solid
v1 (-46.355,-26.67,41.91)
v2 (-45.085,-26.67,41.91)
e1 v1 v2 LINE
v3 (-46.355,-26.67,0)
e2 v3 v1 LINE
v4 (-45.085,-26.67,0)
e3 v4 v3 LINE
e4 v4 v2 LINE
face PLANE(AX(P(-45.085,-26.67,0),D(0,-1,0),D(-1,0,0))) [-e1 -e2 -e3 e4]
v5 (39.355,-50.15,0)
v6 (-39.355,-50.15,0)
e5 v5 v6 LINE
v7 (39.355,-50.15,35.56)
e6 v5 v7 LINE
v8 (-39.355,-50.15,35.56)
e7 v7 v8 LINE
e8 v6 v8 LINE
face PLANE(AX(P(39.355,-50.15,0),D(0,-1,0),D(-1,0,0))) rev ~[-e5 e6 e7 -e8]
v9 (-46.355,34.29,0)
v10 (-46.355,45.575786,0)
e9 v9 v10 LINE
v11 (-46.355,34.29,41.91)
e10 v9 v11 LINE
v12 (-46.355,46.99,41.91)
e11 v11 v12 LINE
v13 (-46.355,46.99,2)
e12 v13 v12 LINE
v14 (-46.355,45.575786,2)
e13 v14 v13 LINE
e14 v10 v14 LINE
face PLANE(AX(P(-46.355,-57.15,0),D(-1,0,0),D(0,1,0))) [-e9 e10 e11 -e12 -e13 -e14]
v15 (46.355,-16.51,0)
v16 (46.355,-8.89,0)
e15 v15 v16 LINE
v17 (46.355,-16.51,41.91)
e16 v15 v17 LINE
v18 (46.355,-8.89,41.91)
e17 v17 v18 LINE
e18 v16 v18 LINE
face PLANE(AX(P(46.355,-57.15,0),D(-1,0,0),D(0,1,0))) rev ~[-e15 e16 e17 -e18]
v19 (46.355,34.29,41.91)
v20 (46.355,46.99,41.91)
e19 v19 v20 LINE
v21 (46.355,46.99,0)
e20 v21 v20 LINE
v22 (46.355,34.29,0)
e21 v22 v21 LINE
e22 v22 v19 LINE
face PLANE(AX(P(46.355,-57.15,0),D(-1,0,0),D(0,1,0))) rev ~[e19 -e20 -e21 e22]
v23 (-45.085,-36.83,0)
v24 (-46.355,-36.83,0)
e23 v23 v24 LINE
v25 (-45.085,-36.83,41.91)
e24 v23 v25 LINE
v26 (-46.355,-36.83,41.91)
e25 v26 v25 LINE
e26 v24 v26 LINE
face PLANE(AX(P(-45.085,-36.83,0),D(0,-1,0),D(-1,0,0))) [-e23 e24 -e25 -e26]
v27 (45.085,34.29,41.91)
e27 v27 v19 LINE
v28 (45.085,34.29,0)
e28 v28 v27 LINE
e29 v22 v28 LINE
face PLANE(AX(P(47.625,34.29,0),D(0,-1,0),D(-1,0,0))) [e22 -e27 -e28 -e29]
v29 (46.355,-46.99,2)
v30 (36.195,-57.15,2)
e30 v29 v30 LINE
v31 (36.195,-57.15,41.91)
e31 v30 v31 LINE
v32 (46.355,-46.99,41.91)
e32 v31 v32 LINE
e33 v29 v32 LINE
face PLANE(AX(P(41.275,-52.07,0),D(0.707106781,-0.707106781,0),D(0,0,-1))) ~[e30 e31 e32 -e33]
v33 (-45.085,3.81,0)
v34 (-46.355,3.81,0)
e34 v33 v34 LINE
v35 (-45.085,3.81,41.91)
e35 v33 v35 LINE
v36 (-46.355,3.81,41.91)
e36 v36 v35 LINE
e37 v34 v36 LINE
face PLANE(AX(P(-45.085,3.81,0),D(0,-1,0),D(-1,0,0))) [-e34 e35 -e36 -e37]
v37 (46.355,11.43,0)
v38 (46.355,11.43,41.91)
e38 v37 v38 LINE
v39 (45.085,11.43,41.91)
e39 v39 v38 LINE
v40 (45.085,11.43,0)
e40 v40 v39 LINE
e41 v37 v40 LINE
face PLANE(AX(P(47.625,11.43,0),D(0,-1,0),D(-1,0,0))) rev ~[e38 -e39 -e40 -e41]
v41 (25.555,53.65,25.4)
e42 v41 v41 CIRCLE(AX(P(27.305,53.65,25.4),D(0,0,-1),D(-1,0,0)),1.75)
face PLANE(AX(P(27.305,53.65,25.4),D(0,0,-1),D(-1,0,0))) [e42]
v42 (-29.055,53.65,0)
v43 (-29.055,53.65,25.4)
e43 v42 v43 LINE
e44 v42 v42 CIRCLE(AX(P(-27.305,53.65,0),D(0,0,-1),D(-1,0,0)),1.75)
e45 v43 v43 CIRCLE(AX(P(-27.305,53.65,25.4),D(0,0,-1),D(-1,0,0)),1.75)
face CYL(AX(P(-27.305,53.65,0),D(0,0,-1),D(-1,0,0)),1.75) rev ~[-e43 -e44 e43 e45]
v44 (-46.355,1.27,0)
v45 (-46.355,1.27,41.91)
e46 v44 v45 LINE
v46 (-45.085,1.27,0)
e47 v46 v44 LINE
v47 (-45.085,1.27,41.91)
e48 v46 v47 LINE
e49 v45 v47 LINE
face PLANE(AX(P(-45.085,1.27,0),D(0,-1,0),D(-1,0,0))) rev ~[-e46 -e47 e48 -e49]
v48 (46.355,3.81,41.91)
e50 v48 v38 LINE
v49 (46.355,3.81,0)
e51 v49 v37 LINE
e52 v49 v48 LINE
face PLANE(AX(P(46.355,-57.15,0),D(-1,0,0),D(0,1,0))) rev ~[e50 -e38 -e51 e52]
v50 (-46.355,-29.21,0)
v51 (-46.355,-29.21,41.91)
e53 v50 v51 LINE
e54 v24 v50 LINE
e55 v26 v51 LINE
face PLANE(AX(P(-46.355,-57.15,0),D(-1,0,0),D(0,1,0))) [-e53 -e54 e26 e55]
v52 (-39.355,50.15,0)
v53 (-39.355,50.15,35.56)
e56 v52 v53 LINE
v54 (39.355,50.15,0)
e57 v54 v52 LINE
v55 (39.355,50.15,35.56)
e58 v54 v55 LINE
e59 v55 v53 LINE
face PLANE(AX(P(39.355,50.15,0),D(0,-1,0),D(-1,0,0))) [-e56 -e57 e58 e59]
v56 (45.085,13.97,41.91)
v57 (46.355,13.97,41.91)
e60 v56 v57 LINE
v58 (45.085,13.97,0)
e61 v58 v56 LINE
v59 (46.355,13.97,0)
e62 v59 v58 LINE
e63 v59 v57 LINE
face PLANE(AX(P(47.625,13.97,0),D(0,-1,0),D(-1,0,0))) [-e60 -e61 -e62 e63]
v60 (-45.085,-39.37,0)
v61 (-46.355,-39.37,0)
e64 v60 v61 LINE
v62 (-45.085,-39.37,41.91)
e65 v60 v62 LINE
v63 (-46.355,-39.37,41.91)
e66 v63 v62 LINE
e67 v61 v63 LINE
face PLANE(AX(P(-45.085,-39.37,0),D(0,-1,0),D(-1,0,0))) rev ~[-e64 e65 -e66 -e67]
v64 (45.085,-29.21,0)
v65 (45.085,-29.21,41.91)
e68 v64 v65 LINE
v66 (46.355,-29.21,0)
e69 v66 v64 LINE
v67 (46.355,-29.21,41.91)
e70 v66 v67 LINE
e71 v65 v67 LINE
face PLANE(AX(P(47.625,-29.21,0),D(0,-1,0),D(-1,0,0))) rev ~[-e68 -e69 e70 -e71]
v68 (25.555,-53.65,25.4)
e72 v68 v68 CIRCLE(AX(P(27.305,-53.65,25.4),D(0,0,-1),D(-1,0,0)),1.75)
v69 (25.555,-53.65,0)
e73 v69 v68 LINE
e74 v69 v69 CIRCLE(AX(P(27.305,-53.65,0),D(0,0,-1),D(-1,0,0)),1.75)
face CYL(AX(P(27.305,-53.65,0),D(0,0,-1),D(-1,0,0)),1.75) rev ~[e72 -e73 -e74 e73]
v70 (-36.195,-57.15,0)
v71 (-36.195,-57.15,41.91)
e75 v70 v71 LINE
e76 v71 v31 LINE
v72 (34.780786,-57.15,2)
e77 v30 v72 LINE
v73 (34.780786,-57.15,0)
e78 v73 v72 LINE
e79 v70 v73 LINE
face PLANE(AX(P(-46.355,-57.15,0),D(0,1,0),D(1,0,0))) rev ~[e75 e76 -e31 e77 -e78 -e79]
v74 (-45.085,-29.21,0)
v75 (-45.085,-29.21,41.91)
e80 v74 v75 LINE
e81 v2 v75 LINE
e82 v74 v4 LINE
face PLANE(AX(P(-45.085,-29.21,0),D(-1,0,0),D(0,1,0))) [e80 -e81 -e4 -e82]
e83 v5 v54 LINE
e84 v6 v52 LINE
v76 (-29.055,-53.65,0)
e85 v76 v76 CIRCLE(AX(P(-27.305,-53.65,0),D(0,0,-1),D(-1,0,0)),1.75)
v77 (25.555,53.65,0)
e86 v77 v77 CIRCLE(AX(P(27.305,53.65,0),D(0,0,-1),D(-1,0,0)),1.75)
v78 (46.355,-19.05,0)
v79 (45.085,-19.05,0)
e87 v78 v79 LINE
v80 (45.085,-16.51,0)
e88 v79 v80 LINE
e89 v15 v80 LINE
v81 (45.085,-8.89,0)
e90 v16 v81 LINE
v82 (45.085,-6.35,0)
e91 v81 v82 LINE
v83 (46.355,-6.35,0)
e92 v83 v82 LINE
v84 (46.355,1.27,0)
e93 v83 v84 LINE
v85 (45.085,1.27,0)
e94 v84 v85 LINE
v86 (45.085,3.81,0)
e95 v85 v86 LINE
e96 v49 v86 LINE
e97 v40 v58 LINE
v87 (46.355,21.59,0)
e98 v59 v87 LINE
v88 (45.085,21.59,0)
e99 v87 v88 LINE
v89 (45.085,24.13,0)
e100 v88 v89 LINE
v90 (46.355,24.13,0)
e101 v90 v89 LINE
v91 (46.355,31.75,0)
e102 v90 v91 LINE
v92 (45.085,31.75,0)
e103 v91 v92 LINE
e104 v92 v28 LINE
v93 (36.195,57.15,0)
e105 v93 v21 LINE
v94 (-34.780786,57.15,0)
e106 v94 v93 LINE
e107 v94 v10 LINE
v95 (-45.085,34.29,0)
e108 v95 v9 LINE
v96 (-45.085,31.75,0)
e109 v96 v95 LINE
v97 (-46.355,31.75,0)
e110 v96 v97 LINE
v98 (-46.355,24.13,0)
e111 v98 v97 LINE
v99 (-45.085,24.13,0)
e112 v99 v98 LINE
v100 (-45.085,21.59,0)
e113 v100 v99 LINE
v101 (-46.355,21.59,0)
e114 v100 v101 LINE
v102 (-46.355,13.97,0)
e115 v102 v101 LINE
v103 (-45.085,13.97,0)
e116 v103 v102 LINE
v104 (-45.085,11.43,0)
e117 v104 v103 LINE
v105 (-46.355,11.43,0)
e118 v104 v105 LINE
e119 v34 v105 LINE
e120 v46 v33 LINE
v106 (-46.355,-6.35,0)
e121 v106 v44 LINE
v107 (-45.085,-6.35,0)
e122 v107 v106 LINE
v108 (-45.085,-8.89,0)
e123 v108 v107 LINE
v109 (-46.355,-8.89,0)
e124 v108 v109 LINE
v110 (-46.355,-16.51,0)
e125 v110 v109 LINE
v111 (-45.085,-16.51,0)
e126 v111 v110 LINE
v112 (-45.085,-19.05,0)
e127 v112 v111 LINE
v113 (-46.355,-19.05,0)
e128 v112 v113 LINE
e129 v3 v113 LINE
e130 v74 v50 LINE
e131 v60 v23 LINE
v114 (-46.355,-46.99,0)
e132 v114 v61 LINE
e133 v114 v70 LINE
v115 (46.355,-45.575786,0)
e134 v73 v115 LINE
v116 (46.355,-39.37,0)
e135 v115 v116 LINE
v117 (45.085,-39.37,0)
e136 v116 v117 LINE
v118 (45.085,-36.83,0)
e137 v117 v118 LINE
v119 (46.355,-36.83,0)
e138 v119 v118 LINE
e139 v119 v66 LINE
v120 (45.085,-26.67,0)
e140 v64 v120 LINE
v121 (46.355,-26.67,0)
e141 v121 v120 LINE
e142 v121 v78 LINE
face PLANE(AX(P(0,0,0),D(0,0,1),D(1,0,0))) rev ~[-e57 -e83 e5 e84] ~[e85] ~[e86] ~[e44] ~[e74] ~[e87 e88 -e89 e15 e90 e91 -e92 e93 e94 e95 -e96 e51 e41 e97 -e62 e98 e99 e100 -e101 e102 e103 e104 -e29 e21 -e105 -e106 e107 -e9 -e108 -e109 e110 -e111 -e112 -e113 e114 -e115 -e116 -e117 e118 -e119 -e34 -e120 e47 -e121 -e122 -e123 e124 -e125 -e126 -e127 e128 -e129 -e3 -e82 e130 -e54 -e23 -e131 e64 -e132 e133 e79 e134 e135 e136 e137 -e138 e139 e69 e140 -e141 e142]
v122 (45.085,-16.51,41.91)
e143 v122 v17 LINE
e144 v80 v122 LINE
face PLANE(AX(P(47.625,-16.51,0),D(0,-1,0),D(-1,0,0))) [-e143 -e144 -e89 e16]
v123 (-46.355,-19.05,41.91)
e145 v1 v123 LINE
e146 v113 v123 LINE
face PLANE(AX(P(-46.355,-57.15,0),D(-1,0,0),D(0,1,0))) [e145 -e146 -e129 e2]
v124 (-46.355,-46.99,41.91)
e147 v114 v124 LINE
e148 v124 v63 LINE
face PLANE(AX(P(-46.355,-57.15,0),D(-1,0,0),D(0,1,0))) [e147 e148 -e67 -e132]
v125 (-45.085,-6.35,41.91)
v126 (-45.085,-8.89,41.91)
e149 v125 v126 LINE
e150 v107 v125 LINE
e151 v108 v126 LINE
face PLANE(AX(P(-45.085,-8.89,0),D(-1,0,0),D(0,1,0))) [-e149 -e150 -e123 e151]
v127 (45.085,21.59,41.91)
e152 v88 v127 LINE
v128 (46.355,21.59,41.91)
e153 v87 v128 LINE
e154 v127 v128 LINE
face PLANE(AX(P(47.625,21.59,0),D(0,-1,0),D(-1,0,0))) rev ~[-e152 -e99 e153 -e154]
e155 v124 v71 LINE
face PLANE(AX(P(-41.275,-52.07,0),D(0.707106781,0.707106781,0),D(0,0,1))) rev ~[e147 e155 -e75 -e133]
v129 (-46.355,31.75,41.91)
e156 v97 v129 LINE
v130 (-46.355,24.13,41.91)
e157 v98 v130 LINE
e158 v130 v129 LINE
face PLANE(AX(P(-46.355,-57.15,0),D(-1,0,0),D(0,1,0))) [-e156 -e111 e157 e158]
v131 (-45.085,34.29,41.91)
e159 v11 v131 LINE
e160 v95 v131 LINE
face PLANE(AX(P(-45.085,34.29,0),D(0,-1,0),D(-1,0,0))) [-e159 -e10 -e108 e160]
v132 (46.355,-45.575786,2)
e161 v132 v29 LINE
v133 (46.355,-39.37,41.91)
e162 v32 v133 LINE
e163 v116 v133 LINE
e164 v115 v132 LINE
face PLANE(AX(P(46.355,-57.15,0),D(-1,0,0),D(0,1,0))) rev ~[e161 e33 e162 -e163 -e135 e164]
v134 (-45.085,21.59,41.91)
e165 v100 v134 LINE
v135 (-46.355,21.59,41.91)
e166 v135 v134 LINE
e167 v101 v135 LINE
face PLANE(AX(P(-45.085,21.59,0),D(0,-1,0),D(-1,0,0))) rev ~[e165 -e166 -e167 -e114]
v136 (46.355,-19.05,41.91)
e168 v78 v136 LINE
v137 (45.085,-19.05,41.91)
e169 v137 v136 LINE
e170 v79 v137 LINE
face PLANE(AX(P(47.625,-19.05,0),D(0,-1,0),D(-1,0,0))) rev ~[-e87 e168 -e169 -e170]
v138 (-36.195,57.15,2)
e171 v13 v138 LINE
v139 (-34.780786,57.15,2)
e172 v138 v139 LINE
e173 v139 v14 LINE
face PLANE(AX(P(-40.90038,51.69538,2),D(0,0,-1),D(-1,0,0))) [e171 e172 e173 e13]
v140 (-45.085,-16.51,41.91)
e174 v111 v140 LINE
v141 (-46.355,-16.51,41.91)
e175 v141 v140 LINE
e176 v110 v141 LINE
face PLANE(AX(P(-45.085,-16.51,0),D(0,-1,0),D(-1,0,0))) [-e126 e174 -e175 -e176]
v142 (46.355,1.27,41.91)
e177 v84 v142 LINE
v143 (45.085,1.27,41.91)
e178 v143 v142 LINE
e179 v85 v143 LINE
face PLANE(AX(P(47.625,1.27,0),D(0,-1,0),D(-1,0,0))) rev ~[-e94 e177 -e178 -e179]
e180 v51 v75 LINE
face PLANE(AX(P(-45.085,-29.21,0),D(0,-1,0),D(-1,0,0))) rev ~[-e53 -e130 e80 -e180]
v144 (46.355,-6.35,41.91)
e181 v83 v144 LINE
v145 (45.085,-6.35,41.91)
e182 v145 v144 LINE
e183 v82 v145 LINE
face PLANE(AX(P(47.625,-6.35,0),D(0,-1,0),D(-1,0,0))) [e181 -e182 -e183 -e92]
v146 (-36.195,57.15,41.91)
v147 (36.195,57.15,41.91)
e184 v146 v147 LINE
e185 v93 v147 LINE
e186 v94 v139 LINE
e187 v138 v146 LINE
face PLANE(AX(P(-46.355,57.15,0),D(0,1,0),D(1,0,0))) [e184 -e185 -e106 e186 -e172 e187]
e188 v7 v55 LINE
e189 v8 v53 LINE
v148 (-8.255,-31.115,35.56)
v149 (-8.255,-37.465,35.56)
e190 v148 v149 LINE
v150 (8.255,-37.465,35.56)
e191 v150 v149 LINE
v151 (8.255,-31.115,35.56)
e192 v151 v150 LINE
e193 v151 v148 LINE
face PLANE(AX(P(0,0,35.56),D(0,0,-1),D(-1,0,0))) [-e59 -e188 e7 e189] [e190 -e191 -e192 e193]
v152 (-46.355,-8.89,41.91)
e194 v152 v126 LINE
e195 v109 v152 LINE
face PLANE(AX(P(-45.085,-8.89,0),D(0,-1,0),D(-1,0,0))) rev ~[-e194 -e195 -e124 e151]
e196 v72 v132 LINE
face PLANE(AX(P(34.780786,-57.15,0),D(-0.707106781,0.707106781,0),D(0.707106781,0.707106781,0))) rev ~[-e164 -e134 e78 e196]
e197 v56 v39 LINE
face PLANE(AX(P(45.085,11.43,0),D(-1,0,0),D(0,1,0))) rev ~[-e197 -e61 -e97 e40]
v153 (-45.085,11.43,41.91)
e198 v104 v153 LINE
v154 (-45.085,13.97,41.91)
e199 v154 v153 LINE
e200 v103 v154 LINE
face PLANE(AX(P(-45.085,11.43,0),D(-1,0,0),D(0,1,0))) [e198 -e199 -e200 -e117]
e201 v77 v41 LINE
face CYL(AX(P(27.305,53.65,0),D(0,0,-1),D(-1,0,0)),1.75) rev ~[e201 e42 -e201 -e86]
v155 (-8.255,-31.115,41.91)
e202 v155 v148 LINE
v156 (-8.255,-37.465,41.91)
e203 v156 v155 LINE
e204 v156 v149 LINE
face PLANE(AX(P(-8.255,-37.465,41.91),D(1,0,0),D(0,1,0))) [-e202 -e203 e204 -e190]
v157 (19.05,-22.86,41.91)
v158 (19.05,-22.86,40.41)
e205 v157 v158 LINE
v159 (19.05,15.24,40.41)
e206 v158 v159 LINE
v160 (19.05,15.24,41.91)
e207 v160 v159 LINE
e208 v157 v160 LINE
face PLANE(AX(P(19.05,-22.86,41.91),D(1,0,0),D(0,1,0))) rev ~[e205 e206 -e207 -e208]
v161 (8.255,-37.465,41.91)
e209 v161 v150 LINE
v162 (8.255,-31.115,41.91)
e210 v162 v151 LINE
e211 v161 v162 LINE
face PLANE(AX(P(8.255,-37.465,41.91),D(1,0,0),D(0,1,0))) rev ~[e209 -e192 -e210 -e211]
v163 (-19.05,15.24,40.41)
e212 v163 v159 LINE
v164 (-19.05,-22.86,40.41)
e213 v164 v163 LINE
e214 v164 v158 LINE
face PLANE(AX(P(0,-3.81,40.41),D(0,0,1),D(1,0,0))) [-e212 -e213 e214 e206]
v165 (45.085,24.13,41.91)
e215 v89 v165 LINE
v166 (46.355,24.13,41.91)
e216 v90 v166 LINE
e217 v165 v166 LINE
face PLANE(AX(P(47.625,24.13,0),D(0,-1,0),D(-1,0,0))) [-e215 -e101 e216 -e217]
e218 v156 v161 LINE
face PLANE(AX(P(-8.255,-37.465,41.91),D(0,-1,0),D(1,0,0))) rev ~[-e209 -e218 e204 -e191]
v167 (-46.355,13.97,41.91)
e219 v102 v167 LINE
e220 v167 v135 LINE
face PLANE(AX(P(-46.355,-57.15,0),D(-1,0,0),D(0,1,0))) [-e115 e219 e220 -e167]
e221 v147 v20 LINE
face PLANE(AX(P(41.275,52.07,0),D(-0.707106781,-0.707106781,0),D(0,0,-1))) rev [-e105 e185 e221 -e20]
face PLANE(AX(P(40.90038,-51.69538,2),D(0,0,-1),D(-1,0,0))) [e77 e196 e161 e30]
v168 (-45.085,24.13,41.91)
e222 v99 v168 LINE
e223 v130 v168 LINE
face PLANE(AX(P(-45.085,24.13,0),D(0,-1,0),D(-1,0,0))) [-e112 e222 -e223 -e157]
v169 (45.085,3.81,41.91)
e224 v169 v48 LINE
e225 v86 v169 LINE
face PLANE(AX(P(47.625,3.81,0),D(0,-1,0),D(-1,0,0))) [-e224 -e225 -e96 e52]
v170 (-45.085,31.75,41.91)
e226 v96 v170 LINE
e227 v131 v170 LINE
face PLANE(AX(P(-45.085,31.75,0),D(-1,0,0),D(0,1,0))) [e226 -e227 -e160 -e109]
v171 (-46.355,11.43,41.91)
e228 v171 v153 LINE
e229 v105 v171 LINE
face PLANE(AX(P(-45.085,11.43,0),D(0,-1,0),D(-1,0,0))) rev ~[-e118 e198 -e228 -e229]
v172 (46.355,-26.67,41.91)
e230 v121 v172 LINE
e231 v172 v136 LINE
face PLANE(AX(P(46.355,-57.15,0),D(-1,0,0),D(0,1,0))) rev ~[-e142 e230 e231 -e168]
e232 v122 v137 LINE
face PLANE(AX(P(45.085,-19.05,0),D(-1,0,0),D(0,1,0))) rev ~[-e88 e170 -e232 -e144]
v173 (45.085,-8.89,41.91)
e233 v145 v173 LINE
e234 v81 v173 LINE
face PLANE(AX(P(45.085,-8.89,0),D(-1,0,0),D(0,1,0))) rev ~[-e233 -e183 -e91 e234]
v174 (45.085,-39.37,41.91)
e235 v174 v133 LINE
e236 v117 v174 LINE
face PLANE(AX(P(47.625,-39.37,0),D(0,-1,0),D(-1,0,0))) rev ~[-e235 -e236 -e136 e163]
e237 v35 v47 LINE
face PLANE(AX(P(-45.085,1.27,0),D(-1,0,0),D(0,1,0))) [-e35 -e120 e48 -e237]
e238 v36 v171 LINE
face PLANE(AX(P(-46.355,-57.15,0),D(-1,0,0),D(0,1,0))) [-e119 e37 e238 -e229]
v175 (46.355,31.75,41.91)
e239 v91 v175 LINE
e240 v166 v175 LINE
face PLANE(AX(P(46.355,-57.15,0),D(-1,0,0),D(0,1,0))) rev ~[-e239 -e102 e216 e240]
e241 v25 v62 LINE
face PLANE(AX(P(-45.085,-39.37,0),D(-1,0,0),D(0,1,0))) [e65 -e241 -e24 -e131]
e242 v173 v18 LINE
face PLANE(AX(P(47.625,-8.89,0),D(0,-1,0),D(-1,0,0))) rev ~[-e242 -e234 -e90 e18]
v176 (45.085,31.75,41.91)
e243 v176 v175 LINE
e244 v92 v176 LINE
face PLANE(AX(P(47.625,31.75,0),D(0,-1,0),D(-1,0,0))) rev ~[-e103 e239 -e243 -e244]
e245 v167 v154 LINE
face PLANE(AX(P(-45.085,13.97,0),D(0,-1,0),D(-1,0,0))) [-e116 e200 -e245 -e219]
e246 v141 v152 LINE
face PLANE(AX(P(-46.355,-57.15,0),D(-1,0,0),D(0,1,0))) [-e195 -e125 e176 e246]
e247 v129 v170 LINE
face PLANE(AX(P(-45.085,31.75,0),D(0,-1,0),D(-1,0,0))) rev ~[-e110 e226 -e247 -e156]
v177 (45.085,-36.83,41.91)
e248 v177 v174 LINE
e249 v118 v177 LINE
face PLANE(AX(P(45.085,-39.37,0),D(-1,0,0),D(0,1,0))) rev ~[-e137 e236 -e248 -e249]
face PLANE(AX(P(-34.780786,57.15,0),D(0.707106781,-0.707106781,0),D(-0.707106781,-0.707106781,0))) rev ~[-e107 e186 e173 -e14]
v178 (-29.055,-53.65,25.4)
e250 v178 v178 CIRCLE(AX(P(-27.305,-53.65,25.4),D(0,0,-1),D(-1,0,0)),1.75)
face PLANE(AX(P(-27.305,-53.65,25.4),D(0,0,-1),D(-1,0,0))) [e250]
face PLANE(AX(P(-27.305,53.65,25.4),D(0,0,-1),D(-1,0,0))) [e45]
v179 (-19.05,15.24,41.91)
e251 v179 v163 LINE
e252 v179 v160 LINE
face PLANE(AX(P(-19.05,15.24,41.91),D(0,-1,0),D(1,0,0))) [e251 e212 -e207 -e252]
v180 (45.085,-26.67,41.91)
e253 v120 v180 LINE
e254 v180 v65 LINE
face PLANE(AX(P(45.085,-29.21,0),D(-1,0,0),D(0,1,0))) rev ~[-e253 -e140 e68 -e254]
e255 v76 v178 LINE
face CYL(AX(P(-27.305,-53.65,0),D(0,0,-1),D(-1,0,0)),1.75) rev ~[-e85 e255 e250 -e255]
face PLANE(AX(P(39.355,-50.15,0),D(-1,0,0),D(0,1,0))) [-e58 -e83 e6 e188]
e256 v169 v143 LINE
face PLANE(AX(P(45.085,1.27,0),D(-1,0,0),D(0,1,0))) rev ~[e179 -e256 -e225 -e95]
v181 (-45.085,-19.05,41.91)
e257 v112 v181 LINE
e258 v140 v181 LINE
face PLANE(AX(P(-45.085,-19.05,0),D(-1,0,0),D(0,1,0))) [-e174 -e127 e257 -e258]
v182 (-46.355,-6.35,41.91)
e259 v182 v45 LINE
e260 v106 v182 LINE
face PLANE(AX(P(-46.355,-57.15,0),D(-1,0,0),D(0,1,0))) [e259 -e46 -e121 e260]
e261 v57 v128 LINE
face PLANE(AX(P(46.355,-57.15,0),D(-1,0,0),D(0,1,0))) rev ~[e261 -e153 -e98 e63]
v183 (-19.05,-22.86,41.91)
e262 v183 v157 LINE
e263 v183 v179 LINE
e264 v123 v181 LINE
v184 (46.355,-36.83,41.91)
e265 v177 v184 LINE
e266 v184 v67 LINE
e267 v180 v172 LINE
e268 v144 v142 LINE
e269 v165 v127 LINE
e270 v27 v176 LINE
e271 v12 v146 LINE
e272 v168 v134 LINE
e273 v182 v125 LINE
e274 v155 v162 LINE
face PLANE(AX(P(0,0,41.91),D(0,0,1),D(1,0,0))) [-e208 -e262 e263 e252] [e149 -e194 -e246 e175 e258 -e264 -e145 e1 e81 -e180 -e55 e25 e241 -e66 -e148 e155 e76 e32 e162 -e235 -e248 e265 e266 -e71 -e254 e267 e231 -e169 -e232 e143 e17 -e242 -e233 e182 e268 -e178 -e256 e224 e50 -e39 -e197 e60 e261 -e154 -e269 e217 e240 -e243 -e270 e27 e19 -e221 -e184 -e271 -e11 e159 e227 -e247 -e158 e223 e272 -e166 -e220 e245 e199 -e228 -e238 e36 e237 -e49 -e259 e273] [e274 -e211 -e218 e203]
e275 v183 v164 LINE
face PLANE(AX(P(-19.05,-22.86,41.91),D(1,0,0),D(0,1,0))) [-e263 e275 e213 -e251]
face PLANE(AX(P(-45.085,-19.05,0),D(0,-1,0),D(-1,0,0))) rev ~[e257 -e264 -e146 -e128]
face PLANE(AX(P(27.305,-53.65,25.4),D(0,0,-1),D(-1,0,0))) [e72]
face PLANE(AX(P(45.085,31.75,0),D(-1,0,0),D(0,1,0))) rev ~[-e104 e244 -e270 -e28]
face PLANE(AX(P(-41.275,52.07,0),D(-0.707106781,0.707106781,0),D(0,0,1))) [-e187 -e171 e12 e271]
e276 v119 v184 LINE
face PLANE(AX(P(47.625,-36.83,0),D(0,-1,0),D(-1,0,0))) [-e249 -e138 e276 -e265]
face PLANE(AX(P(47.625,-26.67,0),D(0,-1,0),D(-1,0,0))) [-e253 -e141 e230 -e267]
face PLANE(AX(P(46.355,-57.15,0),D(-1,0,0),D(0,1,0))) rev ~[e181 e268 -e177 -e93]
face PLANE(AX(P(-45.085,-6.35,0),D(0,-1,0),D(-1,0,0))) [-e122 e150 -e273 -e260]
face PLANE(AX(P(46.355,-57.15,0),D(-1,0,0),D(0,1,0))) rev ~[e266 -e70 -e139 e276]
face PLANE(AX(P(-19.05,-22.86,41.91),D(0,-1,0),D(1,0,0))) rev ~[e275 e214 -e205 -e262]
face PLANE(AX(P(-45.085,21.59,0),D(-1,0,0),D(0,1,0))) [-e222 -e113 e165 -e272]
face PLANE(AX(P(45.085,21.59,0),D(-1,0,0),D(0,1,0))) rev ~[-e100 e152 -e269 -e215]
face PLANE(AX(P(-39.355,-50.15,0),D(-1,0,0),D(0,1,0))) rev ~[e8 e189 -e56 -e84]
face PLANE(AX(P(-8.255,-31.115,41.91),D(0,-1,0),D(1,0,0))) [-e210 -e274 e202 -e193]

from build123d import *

# Parameters (mm, degrees)
SKETCH1_W           = 92.71
SKETCH1_H           = 114.3
BOSS_EXTRUDE1_DEPTH = 41.91
SKETCH2_W           = 2.54
SKETCH2_H           = 2.54
CUT_EXTRUDE1_DEPTH  = 85.683862837
CHAMFER1_SIZE       = 10.16
SKETCH3_R           = 1.750000056
CUT_EXTRUDE2_DEPTH  = 25.4
SKETCH4_W           = 78.71
SKETCH4_H           = 100.30000006
CUT_EXTRUDE3_DEPTH  = 35.56
SKETCH6_W           = 16.51
SKETCH6_H           = 6.35
CUT_EXTRUDE5_DEPTH  = 85.683862837
CUT_EXTRUDE6_DEPTH  = 2
SKETCH8_W           = 38.1
SKETCH8_H           = 38.1
CUT_EXTRUDE7_DEPTH  = 1.5


with BuildPart() as part:
    # Sketch1 → Boss-Extrude1 (new body)
    with BuildSketch(Plane.XY):
        Rectangle(SKETCH1_W, SKETCH1_H)
    extrude(amount=BOSS_EXTRUDE1_DEPTH)

    # Sketch2 → Cut-Extrude1 (cut, through all)
    with BuildSketch(Plane(origin=(0, 0, 0), x_dir=(-1, 0, 0), z_dir=(0, 0, -1))):
        with Locations((-46.355, -38.1)):
            Rectangle(SKETCH2_W, SKETCH2_H)
        with Locations((46.355, -38.1)):
            Rectangle(SKETCH2_W, SKETCH2_H)
        with Locations((-46.355, -27.94)):
            Rectangle(SKETCH2_W, SKETCH2_H)
        with Locations((46.355, -27.94)):
            Rectangle(SKETCH2_W, SKETCH2_H)
        with Locations((-46.355, -17.78)):
            Rectangle(SKETCH2_W, SKETCH2_H)
        with Locations((46.355, -17.78)):
            Rectangle(SKETCH2_W, SKETCH2_H)
        with Locations((-46.355, -7.62)):
            Rectangle(SKETCH2_W, SKETCH2_H)
        with Locations((46.355, -7.62)):
            Rectangle(SKETCH2_W, SKETCH2_H)
        with Locations((-46.355, 2.54)):
            Rectangle(SKETCH2_W, SKETCH2_H)
        with Locations((46.355, 2.54)):
            Rectangle(SKETCH2_W, SKETCH2_H)
        with Locations((-46.355, 12.7)):
            Rectangle(SKETCH2_W, SKETCH2_H)
        with Locations((46.355, 12.7)):
            Rectangle(SKETCH2_W, SKETCH2_H)
        with Locations((-46.355, 22.86)):
            Rectangle(SKETCH2_W, SKETCH2_H)
        with Locations((46.355, 22.86)):
            Rectangle(SKETCH2_W, SKETCH2_H)
        with Locations((-46.355, 33.02)):
            Rectangle(SKETCH2_W, SKETCH2_H)
        with Locations((46.355, 33.02)):
            Rectangle(SKETCH2_W, SKETCH2_H)
    extrude(amount=-CUT_EXTRUDE1_DEPTH, mode=Mode.SUBTRACT)

    # Chamfer1
    chamfer1_edges = [part.edges().sort_by_distance(p)[0] for p in [
        (46.355, -57.15, 20.955),
        (-46.355, -57.15, 20.955),
        (-46.355, 57.15, 20.955),
        (46.355, 57.15, 20.955),
    ]]
    chamfer(chamfer1_edges, length=CHAMFER1_SIZE)

    # Sketch3 → Cut-Extrude2 (cut)
    with BuildSketch(Plane(origin=(0, 0, 0), x_dir=(-1, 0, 0), z_dir=(0, 0, -1))):
        with Locations((-27.305, -53.649999888)):
            Circle(SKETCH3_R)
        with Locations((-27.305, 53.65)):
            Circle(SKETCH3_R)
        with Locations((27.305, 53.649999888)):
            Circle(SKETCH3_R)
        with Locations((27.305, -53.649999888)):
            Circle(SKETCH3_R)
    extrude(amount=-CUT_EXTRUDE2_DEPTH, mode=Mode.SUBTRACT)

    # Sketch4 → Cut-Extrude3 (cut)
    with BuildSketch(Plane(origin=(0, 0, 0), x_dir=(-1, 0, 0), z_dir=(0, 0, -1))):
        Rectangle(SKETCH4_W, SKETCH4_H)
    extrude(amount=-CUT_EXTRUDE3_DEPTH, mode=Mode.SUBTRACT)

    # Sketch6 → Cut-Extrude5 (cut, through all)
    with BuildSketch(Plane.XY.offset(41.91)):
        with Locations((0, -34.29)):
            Rectangle(SKETCH6_W, SKETCH6_H)
    extrude(amount=-CUT_EXTRUDE5_DEPTH, mode=Mode.SUBTRACT)

    # Sketch7 → Cut-Extrude6 (cut)
    with BuildSketch(Plane(origin=(0, 0, 0), x_dir=(-1, 0, 0), z_dir=(0, 0, -1))):
        Polygon((40.567893219, 51.362893219), (46.355, 45.575786438), (46.355, 46.99), (36.195, 57.15), (34.780786438, 57.15), align=None)
        Polygon((-40.567893219, -51.362893219), (-46.355, -45.575786438), (-46.355, -46.99), (-36.195, -57.15), (-34.780786438, -57.15), align=None)
    extrude(amount=-CUT_EXTRUDE6_DEPTH, mode=Mode.SUBTRACT)

    # Sketch8 → Cut-Extrude7 (cut)
    with BuildSketch(Plane.XY.offset(41.91)):
        with Locations((0, -3.81)):
            Rectangle(SKETCH8_W, SKETCH8_H)
    extrude(amount=-CUT_EXTRUDE7_DEPTH, mode=Mode.SUBTRACT)


solid = part.part
